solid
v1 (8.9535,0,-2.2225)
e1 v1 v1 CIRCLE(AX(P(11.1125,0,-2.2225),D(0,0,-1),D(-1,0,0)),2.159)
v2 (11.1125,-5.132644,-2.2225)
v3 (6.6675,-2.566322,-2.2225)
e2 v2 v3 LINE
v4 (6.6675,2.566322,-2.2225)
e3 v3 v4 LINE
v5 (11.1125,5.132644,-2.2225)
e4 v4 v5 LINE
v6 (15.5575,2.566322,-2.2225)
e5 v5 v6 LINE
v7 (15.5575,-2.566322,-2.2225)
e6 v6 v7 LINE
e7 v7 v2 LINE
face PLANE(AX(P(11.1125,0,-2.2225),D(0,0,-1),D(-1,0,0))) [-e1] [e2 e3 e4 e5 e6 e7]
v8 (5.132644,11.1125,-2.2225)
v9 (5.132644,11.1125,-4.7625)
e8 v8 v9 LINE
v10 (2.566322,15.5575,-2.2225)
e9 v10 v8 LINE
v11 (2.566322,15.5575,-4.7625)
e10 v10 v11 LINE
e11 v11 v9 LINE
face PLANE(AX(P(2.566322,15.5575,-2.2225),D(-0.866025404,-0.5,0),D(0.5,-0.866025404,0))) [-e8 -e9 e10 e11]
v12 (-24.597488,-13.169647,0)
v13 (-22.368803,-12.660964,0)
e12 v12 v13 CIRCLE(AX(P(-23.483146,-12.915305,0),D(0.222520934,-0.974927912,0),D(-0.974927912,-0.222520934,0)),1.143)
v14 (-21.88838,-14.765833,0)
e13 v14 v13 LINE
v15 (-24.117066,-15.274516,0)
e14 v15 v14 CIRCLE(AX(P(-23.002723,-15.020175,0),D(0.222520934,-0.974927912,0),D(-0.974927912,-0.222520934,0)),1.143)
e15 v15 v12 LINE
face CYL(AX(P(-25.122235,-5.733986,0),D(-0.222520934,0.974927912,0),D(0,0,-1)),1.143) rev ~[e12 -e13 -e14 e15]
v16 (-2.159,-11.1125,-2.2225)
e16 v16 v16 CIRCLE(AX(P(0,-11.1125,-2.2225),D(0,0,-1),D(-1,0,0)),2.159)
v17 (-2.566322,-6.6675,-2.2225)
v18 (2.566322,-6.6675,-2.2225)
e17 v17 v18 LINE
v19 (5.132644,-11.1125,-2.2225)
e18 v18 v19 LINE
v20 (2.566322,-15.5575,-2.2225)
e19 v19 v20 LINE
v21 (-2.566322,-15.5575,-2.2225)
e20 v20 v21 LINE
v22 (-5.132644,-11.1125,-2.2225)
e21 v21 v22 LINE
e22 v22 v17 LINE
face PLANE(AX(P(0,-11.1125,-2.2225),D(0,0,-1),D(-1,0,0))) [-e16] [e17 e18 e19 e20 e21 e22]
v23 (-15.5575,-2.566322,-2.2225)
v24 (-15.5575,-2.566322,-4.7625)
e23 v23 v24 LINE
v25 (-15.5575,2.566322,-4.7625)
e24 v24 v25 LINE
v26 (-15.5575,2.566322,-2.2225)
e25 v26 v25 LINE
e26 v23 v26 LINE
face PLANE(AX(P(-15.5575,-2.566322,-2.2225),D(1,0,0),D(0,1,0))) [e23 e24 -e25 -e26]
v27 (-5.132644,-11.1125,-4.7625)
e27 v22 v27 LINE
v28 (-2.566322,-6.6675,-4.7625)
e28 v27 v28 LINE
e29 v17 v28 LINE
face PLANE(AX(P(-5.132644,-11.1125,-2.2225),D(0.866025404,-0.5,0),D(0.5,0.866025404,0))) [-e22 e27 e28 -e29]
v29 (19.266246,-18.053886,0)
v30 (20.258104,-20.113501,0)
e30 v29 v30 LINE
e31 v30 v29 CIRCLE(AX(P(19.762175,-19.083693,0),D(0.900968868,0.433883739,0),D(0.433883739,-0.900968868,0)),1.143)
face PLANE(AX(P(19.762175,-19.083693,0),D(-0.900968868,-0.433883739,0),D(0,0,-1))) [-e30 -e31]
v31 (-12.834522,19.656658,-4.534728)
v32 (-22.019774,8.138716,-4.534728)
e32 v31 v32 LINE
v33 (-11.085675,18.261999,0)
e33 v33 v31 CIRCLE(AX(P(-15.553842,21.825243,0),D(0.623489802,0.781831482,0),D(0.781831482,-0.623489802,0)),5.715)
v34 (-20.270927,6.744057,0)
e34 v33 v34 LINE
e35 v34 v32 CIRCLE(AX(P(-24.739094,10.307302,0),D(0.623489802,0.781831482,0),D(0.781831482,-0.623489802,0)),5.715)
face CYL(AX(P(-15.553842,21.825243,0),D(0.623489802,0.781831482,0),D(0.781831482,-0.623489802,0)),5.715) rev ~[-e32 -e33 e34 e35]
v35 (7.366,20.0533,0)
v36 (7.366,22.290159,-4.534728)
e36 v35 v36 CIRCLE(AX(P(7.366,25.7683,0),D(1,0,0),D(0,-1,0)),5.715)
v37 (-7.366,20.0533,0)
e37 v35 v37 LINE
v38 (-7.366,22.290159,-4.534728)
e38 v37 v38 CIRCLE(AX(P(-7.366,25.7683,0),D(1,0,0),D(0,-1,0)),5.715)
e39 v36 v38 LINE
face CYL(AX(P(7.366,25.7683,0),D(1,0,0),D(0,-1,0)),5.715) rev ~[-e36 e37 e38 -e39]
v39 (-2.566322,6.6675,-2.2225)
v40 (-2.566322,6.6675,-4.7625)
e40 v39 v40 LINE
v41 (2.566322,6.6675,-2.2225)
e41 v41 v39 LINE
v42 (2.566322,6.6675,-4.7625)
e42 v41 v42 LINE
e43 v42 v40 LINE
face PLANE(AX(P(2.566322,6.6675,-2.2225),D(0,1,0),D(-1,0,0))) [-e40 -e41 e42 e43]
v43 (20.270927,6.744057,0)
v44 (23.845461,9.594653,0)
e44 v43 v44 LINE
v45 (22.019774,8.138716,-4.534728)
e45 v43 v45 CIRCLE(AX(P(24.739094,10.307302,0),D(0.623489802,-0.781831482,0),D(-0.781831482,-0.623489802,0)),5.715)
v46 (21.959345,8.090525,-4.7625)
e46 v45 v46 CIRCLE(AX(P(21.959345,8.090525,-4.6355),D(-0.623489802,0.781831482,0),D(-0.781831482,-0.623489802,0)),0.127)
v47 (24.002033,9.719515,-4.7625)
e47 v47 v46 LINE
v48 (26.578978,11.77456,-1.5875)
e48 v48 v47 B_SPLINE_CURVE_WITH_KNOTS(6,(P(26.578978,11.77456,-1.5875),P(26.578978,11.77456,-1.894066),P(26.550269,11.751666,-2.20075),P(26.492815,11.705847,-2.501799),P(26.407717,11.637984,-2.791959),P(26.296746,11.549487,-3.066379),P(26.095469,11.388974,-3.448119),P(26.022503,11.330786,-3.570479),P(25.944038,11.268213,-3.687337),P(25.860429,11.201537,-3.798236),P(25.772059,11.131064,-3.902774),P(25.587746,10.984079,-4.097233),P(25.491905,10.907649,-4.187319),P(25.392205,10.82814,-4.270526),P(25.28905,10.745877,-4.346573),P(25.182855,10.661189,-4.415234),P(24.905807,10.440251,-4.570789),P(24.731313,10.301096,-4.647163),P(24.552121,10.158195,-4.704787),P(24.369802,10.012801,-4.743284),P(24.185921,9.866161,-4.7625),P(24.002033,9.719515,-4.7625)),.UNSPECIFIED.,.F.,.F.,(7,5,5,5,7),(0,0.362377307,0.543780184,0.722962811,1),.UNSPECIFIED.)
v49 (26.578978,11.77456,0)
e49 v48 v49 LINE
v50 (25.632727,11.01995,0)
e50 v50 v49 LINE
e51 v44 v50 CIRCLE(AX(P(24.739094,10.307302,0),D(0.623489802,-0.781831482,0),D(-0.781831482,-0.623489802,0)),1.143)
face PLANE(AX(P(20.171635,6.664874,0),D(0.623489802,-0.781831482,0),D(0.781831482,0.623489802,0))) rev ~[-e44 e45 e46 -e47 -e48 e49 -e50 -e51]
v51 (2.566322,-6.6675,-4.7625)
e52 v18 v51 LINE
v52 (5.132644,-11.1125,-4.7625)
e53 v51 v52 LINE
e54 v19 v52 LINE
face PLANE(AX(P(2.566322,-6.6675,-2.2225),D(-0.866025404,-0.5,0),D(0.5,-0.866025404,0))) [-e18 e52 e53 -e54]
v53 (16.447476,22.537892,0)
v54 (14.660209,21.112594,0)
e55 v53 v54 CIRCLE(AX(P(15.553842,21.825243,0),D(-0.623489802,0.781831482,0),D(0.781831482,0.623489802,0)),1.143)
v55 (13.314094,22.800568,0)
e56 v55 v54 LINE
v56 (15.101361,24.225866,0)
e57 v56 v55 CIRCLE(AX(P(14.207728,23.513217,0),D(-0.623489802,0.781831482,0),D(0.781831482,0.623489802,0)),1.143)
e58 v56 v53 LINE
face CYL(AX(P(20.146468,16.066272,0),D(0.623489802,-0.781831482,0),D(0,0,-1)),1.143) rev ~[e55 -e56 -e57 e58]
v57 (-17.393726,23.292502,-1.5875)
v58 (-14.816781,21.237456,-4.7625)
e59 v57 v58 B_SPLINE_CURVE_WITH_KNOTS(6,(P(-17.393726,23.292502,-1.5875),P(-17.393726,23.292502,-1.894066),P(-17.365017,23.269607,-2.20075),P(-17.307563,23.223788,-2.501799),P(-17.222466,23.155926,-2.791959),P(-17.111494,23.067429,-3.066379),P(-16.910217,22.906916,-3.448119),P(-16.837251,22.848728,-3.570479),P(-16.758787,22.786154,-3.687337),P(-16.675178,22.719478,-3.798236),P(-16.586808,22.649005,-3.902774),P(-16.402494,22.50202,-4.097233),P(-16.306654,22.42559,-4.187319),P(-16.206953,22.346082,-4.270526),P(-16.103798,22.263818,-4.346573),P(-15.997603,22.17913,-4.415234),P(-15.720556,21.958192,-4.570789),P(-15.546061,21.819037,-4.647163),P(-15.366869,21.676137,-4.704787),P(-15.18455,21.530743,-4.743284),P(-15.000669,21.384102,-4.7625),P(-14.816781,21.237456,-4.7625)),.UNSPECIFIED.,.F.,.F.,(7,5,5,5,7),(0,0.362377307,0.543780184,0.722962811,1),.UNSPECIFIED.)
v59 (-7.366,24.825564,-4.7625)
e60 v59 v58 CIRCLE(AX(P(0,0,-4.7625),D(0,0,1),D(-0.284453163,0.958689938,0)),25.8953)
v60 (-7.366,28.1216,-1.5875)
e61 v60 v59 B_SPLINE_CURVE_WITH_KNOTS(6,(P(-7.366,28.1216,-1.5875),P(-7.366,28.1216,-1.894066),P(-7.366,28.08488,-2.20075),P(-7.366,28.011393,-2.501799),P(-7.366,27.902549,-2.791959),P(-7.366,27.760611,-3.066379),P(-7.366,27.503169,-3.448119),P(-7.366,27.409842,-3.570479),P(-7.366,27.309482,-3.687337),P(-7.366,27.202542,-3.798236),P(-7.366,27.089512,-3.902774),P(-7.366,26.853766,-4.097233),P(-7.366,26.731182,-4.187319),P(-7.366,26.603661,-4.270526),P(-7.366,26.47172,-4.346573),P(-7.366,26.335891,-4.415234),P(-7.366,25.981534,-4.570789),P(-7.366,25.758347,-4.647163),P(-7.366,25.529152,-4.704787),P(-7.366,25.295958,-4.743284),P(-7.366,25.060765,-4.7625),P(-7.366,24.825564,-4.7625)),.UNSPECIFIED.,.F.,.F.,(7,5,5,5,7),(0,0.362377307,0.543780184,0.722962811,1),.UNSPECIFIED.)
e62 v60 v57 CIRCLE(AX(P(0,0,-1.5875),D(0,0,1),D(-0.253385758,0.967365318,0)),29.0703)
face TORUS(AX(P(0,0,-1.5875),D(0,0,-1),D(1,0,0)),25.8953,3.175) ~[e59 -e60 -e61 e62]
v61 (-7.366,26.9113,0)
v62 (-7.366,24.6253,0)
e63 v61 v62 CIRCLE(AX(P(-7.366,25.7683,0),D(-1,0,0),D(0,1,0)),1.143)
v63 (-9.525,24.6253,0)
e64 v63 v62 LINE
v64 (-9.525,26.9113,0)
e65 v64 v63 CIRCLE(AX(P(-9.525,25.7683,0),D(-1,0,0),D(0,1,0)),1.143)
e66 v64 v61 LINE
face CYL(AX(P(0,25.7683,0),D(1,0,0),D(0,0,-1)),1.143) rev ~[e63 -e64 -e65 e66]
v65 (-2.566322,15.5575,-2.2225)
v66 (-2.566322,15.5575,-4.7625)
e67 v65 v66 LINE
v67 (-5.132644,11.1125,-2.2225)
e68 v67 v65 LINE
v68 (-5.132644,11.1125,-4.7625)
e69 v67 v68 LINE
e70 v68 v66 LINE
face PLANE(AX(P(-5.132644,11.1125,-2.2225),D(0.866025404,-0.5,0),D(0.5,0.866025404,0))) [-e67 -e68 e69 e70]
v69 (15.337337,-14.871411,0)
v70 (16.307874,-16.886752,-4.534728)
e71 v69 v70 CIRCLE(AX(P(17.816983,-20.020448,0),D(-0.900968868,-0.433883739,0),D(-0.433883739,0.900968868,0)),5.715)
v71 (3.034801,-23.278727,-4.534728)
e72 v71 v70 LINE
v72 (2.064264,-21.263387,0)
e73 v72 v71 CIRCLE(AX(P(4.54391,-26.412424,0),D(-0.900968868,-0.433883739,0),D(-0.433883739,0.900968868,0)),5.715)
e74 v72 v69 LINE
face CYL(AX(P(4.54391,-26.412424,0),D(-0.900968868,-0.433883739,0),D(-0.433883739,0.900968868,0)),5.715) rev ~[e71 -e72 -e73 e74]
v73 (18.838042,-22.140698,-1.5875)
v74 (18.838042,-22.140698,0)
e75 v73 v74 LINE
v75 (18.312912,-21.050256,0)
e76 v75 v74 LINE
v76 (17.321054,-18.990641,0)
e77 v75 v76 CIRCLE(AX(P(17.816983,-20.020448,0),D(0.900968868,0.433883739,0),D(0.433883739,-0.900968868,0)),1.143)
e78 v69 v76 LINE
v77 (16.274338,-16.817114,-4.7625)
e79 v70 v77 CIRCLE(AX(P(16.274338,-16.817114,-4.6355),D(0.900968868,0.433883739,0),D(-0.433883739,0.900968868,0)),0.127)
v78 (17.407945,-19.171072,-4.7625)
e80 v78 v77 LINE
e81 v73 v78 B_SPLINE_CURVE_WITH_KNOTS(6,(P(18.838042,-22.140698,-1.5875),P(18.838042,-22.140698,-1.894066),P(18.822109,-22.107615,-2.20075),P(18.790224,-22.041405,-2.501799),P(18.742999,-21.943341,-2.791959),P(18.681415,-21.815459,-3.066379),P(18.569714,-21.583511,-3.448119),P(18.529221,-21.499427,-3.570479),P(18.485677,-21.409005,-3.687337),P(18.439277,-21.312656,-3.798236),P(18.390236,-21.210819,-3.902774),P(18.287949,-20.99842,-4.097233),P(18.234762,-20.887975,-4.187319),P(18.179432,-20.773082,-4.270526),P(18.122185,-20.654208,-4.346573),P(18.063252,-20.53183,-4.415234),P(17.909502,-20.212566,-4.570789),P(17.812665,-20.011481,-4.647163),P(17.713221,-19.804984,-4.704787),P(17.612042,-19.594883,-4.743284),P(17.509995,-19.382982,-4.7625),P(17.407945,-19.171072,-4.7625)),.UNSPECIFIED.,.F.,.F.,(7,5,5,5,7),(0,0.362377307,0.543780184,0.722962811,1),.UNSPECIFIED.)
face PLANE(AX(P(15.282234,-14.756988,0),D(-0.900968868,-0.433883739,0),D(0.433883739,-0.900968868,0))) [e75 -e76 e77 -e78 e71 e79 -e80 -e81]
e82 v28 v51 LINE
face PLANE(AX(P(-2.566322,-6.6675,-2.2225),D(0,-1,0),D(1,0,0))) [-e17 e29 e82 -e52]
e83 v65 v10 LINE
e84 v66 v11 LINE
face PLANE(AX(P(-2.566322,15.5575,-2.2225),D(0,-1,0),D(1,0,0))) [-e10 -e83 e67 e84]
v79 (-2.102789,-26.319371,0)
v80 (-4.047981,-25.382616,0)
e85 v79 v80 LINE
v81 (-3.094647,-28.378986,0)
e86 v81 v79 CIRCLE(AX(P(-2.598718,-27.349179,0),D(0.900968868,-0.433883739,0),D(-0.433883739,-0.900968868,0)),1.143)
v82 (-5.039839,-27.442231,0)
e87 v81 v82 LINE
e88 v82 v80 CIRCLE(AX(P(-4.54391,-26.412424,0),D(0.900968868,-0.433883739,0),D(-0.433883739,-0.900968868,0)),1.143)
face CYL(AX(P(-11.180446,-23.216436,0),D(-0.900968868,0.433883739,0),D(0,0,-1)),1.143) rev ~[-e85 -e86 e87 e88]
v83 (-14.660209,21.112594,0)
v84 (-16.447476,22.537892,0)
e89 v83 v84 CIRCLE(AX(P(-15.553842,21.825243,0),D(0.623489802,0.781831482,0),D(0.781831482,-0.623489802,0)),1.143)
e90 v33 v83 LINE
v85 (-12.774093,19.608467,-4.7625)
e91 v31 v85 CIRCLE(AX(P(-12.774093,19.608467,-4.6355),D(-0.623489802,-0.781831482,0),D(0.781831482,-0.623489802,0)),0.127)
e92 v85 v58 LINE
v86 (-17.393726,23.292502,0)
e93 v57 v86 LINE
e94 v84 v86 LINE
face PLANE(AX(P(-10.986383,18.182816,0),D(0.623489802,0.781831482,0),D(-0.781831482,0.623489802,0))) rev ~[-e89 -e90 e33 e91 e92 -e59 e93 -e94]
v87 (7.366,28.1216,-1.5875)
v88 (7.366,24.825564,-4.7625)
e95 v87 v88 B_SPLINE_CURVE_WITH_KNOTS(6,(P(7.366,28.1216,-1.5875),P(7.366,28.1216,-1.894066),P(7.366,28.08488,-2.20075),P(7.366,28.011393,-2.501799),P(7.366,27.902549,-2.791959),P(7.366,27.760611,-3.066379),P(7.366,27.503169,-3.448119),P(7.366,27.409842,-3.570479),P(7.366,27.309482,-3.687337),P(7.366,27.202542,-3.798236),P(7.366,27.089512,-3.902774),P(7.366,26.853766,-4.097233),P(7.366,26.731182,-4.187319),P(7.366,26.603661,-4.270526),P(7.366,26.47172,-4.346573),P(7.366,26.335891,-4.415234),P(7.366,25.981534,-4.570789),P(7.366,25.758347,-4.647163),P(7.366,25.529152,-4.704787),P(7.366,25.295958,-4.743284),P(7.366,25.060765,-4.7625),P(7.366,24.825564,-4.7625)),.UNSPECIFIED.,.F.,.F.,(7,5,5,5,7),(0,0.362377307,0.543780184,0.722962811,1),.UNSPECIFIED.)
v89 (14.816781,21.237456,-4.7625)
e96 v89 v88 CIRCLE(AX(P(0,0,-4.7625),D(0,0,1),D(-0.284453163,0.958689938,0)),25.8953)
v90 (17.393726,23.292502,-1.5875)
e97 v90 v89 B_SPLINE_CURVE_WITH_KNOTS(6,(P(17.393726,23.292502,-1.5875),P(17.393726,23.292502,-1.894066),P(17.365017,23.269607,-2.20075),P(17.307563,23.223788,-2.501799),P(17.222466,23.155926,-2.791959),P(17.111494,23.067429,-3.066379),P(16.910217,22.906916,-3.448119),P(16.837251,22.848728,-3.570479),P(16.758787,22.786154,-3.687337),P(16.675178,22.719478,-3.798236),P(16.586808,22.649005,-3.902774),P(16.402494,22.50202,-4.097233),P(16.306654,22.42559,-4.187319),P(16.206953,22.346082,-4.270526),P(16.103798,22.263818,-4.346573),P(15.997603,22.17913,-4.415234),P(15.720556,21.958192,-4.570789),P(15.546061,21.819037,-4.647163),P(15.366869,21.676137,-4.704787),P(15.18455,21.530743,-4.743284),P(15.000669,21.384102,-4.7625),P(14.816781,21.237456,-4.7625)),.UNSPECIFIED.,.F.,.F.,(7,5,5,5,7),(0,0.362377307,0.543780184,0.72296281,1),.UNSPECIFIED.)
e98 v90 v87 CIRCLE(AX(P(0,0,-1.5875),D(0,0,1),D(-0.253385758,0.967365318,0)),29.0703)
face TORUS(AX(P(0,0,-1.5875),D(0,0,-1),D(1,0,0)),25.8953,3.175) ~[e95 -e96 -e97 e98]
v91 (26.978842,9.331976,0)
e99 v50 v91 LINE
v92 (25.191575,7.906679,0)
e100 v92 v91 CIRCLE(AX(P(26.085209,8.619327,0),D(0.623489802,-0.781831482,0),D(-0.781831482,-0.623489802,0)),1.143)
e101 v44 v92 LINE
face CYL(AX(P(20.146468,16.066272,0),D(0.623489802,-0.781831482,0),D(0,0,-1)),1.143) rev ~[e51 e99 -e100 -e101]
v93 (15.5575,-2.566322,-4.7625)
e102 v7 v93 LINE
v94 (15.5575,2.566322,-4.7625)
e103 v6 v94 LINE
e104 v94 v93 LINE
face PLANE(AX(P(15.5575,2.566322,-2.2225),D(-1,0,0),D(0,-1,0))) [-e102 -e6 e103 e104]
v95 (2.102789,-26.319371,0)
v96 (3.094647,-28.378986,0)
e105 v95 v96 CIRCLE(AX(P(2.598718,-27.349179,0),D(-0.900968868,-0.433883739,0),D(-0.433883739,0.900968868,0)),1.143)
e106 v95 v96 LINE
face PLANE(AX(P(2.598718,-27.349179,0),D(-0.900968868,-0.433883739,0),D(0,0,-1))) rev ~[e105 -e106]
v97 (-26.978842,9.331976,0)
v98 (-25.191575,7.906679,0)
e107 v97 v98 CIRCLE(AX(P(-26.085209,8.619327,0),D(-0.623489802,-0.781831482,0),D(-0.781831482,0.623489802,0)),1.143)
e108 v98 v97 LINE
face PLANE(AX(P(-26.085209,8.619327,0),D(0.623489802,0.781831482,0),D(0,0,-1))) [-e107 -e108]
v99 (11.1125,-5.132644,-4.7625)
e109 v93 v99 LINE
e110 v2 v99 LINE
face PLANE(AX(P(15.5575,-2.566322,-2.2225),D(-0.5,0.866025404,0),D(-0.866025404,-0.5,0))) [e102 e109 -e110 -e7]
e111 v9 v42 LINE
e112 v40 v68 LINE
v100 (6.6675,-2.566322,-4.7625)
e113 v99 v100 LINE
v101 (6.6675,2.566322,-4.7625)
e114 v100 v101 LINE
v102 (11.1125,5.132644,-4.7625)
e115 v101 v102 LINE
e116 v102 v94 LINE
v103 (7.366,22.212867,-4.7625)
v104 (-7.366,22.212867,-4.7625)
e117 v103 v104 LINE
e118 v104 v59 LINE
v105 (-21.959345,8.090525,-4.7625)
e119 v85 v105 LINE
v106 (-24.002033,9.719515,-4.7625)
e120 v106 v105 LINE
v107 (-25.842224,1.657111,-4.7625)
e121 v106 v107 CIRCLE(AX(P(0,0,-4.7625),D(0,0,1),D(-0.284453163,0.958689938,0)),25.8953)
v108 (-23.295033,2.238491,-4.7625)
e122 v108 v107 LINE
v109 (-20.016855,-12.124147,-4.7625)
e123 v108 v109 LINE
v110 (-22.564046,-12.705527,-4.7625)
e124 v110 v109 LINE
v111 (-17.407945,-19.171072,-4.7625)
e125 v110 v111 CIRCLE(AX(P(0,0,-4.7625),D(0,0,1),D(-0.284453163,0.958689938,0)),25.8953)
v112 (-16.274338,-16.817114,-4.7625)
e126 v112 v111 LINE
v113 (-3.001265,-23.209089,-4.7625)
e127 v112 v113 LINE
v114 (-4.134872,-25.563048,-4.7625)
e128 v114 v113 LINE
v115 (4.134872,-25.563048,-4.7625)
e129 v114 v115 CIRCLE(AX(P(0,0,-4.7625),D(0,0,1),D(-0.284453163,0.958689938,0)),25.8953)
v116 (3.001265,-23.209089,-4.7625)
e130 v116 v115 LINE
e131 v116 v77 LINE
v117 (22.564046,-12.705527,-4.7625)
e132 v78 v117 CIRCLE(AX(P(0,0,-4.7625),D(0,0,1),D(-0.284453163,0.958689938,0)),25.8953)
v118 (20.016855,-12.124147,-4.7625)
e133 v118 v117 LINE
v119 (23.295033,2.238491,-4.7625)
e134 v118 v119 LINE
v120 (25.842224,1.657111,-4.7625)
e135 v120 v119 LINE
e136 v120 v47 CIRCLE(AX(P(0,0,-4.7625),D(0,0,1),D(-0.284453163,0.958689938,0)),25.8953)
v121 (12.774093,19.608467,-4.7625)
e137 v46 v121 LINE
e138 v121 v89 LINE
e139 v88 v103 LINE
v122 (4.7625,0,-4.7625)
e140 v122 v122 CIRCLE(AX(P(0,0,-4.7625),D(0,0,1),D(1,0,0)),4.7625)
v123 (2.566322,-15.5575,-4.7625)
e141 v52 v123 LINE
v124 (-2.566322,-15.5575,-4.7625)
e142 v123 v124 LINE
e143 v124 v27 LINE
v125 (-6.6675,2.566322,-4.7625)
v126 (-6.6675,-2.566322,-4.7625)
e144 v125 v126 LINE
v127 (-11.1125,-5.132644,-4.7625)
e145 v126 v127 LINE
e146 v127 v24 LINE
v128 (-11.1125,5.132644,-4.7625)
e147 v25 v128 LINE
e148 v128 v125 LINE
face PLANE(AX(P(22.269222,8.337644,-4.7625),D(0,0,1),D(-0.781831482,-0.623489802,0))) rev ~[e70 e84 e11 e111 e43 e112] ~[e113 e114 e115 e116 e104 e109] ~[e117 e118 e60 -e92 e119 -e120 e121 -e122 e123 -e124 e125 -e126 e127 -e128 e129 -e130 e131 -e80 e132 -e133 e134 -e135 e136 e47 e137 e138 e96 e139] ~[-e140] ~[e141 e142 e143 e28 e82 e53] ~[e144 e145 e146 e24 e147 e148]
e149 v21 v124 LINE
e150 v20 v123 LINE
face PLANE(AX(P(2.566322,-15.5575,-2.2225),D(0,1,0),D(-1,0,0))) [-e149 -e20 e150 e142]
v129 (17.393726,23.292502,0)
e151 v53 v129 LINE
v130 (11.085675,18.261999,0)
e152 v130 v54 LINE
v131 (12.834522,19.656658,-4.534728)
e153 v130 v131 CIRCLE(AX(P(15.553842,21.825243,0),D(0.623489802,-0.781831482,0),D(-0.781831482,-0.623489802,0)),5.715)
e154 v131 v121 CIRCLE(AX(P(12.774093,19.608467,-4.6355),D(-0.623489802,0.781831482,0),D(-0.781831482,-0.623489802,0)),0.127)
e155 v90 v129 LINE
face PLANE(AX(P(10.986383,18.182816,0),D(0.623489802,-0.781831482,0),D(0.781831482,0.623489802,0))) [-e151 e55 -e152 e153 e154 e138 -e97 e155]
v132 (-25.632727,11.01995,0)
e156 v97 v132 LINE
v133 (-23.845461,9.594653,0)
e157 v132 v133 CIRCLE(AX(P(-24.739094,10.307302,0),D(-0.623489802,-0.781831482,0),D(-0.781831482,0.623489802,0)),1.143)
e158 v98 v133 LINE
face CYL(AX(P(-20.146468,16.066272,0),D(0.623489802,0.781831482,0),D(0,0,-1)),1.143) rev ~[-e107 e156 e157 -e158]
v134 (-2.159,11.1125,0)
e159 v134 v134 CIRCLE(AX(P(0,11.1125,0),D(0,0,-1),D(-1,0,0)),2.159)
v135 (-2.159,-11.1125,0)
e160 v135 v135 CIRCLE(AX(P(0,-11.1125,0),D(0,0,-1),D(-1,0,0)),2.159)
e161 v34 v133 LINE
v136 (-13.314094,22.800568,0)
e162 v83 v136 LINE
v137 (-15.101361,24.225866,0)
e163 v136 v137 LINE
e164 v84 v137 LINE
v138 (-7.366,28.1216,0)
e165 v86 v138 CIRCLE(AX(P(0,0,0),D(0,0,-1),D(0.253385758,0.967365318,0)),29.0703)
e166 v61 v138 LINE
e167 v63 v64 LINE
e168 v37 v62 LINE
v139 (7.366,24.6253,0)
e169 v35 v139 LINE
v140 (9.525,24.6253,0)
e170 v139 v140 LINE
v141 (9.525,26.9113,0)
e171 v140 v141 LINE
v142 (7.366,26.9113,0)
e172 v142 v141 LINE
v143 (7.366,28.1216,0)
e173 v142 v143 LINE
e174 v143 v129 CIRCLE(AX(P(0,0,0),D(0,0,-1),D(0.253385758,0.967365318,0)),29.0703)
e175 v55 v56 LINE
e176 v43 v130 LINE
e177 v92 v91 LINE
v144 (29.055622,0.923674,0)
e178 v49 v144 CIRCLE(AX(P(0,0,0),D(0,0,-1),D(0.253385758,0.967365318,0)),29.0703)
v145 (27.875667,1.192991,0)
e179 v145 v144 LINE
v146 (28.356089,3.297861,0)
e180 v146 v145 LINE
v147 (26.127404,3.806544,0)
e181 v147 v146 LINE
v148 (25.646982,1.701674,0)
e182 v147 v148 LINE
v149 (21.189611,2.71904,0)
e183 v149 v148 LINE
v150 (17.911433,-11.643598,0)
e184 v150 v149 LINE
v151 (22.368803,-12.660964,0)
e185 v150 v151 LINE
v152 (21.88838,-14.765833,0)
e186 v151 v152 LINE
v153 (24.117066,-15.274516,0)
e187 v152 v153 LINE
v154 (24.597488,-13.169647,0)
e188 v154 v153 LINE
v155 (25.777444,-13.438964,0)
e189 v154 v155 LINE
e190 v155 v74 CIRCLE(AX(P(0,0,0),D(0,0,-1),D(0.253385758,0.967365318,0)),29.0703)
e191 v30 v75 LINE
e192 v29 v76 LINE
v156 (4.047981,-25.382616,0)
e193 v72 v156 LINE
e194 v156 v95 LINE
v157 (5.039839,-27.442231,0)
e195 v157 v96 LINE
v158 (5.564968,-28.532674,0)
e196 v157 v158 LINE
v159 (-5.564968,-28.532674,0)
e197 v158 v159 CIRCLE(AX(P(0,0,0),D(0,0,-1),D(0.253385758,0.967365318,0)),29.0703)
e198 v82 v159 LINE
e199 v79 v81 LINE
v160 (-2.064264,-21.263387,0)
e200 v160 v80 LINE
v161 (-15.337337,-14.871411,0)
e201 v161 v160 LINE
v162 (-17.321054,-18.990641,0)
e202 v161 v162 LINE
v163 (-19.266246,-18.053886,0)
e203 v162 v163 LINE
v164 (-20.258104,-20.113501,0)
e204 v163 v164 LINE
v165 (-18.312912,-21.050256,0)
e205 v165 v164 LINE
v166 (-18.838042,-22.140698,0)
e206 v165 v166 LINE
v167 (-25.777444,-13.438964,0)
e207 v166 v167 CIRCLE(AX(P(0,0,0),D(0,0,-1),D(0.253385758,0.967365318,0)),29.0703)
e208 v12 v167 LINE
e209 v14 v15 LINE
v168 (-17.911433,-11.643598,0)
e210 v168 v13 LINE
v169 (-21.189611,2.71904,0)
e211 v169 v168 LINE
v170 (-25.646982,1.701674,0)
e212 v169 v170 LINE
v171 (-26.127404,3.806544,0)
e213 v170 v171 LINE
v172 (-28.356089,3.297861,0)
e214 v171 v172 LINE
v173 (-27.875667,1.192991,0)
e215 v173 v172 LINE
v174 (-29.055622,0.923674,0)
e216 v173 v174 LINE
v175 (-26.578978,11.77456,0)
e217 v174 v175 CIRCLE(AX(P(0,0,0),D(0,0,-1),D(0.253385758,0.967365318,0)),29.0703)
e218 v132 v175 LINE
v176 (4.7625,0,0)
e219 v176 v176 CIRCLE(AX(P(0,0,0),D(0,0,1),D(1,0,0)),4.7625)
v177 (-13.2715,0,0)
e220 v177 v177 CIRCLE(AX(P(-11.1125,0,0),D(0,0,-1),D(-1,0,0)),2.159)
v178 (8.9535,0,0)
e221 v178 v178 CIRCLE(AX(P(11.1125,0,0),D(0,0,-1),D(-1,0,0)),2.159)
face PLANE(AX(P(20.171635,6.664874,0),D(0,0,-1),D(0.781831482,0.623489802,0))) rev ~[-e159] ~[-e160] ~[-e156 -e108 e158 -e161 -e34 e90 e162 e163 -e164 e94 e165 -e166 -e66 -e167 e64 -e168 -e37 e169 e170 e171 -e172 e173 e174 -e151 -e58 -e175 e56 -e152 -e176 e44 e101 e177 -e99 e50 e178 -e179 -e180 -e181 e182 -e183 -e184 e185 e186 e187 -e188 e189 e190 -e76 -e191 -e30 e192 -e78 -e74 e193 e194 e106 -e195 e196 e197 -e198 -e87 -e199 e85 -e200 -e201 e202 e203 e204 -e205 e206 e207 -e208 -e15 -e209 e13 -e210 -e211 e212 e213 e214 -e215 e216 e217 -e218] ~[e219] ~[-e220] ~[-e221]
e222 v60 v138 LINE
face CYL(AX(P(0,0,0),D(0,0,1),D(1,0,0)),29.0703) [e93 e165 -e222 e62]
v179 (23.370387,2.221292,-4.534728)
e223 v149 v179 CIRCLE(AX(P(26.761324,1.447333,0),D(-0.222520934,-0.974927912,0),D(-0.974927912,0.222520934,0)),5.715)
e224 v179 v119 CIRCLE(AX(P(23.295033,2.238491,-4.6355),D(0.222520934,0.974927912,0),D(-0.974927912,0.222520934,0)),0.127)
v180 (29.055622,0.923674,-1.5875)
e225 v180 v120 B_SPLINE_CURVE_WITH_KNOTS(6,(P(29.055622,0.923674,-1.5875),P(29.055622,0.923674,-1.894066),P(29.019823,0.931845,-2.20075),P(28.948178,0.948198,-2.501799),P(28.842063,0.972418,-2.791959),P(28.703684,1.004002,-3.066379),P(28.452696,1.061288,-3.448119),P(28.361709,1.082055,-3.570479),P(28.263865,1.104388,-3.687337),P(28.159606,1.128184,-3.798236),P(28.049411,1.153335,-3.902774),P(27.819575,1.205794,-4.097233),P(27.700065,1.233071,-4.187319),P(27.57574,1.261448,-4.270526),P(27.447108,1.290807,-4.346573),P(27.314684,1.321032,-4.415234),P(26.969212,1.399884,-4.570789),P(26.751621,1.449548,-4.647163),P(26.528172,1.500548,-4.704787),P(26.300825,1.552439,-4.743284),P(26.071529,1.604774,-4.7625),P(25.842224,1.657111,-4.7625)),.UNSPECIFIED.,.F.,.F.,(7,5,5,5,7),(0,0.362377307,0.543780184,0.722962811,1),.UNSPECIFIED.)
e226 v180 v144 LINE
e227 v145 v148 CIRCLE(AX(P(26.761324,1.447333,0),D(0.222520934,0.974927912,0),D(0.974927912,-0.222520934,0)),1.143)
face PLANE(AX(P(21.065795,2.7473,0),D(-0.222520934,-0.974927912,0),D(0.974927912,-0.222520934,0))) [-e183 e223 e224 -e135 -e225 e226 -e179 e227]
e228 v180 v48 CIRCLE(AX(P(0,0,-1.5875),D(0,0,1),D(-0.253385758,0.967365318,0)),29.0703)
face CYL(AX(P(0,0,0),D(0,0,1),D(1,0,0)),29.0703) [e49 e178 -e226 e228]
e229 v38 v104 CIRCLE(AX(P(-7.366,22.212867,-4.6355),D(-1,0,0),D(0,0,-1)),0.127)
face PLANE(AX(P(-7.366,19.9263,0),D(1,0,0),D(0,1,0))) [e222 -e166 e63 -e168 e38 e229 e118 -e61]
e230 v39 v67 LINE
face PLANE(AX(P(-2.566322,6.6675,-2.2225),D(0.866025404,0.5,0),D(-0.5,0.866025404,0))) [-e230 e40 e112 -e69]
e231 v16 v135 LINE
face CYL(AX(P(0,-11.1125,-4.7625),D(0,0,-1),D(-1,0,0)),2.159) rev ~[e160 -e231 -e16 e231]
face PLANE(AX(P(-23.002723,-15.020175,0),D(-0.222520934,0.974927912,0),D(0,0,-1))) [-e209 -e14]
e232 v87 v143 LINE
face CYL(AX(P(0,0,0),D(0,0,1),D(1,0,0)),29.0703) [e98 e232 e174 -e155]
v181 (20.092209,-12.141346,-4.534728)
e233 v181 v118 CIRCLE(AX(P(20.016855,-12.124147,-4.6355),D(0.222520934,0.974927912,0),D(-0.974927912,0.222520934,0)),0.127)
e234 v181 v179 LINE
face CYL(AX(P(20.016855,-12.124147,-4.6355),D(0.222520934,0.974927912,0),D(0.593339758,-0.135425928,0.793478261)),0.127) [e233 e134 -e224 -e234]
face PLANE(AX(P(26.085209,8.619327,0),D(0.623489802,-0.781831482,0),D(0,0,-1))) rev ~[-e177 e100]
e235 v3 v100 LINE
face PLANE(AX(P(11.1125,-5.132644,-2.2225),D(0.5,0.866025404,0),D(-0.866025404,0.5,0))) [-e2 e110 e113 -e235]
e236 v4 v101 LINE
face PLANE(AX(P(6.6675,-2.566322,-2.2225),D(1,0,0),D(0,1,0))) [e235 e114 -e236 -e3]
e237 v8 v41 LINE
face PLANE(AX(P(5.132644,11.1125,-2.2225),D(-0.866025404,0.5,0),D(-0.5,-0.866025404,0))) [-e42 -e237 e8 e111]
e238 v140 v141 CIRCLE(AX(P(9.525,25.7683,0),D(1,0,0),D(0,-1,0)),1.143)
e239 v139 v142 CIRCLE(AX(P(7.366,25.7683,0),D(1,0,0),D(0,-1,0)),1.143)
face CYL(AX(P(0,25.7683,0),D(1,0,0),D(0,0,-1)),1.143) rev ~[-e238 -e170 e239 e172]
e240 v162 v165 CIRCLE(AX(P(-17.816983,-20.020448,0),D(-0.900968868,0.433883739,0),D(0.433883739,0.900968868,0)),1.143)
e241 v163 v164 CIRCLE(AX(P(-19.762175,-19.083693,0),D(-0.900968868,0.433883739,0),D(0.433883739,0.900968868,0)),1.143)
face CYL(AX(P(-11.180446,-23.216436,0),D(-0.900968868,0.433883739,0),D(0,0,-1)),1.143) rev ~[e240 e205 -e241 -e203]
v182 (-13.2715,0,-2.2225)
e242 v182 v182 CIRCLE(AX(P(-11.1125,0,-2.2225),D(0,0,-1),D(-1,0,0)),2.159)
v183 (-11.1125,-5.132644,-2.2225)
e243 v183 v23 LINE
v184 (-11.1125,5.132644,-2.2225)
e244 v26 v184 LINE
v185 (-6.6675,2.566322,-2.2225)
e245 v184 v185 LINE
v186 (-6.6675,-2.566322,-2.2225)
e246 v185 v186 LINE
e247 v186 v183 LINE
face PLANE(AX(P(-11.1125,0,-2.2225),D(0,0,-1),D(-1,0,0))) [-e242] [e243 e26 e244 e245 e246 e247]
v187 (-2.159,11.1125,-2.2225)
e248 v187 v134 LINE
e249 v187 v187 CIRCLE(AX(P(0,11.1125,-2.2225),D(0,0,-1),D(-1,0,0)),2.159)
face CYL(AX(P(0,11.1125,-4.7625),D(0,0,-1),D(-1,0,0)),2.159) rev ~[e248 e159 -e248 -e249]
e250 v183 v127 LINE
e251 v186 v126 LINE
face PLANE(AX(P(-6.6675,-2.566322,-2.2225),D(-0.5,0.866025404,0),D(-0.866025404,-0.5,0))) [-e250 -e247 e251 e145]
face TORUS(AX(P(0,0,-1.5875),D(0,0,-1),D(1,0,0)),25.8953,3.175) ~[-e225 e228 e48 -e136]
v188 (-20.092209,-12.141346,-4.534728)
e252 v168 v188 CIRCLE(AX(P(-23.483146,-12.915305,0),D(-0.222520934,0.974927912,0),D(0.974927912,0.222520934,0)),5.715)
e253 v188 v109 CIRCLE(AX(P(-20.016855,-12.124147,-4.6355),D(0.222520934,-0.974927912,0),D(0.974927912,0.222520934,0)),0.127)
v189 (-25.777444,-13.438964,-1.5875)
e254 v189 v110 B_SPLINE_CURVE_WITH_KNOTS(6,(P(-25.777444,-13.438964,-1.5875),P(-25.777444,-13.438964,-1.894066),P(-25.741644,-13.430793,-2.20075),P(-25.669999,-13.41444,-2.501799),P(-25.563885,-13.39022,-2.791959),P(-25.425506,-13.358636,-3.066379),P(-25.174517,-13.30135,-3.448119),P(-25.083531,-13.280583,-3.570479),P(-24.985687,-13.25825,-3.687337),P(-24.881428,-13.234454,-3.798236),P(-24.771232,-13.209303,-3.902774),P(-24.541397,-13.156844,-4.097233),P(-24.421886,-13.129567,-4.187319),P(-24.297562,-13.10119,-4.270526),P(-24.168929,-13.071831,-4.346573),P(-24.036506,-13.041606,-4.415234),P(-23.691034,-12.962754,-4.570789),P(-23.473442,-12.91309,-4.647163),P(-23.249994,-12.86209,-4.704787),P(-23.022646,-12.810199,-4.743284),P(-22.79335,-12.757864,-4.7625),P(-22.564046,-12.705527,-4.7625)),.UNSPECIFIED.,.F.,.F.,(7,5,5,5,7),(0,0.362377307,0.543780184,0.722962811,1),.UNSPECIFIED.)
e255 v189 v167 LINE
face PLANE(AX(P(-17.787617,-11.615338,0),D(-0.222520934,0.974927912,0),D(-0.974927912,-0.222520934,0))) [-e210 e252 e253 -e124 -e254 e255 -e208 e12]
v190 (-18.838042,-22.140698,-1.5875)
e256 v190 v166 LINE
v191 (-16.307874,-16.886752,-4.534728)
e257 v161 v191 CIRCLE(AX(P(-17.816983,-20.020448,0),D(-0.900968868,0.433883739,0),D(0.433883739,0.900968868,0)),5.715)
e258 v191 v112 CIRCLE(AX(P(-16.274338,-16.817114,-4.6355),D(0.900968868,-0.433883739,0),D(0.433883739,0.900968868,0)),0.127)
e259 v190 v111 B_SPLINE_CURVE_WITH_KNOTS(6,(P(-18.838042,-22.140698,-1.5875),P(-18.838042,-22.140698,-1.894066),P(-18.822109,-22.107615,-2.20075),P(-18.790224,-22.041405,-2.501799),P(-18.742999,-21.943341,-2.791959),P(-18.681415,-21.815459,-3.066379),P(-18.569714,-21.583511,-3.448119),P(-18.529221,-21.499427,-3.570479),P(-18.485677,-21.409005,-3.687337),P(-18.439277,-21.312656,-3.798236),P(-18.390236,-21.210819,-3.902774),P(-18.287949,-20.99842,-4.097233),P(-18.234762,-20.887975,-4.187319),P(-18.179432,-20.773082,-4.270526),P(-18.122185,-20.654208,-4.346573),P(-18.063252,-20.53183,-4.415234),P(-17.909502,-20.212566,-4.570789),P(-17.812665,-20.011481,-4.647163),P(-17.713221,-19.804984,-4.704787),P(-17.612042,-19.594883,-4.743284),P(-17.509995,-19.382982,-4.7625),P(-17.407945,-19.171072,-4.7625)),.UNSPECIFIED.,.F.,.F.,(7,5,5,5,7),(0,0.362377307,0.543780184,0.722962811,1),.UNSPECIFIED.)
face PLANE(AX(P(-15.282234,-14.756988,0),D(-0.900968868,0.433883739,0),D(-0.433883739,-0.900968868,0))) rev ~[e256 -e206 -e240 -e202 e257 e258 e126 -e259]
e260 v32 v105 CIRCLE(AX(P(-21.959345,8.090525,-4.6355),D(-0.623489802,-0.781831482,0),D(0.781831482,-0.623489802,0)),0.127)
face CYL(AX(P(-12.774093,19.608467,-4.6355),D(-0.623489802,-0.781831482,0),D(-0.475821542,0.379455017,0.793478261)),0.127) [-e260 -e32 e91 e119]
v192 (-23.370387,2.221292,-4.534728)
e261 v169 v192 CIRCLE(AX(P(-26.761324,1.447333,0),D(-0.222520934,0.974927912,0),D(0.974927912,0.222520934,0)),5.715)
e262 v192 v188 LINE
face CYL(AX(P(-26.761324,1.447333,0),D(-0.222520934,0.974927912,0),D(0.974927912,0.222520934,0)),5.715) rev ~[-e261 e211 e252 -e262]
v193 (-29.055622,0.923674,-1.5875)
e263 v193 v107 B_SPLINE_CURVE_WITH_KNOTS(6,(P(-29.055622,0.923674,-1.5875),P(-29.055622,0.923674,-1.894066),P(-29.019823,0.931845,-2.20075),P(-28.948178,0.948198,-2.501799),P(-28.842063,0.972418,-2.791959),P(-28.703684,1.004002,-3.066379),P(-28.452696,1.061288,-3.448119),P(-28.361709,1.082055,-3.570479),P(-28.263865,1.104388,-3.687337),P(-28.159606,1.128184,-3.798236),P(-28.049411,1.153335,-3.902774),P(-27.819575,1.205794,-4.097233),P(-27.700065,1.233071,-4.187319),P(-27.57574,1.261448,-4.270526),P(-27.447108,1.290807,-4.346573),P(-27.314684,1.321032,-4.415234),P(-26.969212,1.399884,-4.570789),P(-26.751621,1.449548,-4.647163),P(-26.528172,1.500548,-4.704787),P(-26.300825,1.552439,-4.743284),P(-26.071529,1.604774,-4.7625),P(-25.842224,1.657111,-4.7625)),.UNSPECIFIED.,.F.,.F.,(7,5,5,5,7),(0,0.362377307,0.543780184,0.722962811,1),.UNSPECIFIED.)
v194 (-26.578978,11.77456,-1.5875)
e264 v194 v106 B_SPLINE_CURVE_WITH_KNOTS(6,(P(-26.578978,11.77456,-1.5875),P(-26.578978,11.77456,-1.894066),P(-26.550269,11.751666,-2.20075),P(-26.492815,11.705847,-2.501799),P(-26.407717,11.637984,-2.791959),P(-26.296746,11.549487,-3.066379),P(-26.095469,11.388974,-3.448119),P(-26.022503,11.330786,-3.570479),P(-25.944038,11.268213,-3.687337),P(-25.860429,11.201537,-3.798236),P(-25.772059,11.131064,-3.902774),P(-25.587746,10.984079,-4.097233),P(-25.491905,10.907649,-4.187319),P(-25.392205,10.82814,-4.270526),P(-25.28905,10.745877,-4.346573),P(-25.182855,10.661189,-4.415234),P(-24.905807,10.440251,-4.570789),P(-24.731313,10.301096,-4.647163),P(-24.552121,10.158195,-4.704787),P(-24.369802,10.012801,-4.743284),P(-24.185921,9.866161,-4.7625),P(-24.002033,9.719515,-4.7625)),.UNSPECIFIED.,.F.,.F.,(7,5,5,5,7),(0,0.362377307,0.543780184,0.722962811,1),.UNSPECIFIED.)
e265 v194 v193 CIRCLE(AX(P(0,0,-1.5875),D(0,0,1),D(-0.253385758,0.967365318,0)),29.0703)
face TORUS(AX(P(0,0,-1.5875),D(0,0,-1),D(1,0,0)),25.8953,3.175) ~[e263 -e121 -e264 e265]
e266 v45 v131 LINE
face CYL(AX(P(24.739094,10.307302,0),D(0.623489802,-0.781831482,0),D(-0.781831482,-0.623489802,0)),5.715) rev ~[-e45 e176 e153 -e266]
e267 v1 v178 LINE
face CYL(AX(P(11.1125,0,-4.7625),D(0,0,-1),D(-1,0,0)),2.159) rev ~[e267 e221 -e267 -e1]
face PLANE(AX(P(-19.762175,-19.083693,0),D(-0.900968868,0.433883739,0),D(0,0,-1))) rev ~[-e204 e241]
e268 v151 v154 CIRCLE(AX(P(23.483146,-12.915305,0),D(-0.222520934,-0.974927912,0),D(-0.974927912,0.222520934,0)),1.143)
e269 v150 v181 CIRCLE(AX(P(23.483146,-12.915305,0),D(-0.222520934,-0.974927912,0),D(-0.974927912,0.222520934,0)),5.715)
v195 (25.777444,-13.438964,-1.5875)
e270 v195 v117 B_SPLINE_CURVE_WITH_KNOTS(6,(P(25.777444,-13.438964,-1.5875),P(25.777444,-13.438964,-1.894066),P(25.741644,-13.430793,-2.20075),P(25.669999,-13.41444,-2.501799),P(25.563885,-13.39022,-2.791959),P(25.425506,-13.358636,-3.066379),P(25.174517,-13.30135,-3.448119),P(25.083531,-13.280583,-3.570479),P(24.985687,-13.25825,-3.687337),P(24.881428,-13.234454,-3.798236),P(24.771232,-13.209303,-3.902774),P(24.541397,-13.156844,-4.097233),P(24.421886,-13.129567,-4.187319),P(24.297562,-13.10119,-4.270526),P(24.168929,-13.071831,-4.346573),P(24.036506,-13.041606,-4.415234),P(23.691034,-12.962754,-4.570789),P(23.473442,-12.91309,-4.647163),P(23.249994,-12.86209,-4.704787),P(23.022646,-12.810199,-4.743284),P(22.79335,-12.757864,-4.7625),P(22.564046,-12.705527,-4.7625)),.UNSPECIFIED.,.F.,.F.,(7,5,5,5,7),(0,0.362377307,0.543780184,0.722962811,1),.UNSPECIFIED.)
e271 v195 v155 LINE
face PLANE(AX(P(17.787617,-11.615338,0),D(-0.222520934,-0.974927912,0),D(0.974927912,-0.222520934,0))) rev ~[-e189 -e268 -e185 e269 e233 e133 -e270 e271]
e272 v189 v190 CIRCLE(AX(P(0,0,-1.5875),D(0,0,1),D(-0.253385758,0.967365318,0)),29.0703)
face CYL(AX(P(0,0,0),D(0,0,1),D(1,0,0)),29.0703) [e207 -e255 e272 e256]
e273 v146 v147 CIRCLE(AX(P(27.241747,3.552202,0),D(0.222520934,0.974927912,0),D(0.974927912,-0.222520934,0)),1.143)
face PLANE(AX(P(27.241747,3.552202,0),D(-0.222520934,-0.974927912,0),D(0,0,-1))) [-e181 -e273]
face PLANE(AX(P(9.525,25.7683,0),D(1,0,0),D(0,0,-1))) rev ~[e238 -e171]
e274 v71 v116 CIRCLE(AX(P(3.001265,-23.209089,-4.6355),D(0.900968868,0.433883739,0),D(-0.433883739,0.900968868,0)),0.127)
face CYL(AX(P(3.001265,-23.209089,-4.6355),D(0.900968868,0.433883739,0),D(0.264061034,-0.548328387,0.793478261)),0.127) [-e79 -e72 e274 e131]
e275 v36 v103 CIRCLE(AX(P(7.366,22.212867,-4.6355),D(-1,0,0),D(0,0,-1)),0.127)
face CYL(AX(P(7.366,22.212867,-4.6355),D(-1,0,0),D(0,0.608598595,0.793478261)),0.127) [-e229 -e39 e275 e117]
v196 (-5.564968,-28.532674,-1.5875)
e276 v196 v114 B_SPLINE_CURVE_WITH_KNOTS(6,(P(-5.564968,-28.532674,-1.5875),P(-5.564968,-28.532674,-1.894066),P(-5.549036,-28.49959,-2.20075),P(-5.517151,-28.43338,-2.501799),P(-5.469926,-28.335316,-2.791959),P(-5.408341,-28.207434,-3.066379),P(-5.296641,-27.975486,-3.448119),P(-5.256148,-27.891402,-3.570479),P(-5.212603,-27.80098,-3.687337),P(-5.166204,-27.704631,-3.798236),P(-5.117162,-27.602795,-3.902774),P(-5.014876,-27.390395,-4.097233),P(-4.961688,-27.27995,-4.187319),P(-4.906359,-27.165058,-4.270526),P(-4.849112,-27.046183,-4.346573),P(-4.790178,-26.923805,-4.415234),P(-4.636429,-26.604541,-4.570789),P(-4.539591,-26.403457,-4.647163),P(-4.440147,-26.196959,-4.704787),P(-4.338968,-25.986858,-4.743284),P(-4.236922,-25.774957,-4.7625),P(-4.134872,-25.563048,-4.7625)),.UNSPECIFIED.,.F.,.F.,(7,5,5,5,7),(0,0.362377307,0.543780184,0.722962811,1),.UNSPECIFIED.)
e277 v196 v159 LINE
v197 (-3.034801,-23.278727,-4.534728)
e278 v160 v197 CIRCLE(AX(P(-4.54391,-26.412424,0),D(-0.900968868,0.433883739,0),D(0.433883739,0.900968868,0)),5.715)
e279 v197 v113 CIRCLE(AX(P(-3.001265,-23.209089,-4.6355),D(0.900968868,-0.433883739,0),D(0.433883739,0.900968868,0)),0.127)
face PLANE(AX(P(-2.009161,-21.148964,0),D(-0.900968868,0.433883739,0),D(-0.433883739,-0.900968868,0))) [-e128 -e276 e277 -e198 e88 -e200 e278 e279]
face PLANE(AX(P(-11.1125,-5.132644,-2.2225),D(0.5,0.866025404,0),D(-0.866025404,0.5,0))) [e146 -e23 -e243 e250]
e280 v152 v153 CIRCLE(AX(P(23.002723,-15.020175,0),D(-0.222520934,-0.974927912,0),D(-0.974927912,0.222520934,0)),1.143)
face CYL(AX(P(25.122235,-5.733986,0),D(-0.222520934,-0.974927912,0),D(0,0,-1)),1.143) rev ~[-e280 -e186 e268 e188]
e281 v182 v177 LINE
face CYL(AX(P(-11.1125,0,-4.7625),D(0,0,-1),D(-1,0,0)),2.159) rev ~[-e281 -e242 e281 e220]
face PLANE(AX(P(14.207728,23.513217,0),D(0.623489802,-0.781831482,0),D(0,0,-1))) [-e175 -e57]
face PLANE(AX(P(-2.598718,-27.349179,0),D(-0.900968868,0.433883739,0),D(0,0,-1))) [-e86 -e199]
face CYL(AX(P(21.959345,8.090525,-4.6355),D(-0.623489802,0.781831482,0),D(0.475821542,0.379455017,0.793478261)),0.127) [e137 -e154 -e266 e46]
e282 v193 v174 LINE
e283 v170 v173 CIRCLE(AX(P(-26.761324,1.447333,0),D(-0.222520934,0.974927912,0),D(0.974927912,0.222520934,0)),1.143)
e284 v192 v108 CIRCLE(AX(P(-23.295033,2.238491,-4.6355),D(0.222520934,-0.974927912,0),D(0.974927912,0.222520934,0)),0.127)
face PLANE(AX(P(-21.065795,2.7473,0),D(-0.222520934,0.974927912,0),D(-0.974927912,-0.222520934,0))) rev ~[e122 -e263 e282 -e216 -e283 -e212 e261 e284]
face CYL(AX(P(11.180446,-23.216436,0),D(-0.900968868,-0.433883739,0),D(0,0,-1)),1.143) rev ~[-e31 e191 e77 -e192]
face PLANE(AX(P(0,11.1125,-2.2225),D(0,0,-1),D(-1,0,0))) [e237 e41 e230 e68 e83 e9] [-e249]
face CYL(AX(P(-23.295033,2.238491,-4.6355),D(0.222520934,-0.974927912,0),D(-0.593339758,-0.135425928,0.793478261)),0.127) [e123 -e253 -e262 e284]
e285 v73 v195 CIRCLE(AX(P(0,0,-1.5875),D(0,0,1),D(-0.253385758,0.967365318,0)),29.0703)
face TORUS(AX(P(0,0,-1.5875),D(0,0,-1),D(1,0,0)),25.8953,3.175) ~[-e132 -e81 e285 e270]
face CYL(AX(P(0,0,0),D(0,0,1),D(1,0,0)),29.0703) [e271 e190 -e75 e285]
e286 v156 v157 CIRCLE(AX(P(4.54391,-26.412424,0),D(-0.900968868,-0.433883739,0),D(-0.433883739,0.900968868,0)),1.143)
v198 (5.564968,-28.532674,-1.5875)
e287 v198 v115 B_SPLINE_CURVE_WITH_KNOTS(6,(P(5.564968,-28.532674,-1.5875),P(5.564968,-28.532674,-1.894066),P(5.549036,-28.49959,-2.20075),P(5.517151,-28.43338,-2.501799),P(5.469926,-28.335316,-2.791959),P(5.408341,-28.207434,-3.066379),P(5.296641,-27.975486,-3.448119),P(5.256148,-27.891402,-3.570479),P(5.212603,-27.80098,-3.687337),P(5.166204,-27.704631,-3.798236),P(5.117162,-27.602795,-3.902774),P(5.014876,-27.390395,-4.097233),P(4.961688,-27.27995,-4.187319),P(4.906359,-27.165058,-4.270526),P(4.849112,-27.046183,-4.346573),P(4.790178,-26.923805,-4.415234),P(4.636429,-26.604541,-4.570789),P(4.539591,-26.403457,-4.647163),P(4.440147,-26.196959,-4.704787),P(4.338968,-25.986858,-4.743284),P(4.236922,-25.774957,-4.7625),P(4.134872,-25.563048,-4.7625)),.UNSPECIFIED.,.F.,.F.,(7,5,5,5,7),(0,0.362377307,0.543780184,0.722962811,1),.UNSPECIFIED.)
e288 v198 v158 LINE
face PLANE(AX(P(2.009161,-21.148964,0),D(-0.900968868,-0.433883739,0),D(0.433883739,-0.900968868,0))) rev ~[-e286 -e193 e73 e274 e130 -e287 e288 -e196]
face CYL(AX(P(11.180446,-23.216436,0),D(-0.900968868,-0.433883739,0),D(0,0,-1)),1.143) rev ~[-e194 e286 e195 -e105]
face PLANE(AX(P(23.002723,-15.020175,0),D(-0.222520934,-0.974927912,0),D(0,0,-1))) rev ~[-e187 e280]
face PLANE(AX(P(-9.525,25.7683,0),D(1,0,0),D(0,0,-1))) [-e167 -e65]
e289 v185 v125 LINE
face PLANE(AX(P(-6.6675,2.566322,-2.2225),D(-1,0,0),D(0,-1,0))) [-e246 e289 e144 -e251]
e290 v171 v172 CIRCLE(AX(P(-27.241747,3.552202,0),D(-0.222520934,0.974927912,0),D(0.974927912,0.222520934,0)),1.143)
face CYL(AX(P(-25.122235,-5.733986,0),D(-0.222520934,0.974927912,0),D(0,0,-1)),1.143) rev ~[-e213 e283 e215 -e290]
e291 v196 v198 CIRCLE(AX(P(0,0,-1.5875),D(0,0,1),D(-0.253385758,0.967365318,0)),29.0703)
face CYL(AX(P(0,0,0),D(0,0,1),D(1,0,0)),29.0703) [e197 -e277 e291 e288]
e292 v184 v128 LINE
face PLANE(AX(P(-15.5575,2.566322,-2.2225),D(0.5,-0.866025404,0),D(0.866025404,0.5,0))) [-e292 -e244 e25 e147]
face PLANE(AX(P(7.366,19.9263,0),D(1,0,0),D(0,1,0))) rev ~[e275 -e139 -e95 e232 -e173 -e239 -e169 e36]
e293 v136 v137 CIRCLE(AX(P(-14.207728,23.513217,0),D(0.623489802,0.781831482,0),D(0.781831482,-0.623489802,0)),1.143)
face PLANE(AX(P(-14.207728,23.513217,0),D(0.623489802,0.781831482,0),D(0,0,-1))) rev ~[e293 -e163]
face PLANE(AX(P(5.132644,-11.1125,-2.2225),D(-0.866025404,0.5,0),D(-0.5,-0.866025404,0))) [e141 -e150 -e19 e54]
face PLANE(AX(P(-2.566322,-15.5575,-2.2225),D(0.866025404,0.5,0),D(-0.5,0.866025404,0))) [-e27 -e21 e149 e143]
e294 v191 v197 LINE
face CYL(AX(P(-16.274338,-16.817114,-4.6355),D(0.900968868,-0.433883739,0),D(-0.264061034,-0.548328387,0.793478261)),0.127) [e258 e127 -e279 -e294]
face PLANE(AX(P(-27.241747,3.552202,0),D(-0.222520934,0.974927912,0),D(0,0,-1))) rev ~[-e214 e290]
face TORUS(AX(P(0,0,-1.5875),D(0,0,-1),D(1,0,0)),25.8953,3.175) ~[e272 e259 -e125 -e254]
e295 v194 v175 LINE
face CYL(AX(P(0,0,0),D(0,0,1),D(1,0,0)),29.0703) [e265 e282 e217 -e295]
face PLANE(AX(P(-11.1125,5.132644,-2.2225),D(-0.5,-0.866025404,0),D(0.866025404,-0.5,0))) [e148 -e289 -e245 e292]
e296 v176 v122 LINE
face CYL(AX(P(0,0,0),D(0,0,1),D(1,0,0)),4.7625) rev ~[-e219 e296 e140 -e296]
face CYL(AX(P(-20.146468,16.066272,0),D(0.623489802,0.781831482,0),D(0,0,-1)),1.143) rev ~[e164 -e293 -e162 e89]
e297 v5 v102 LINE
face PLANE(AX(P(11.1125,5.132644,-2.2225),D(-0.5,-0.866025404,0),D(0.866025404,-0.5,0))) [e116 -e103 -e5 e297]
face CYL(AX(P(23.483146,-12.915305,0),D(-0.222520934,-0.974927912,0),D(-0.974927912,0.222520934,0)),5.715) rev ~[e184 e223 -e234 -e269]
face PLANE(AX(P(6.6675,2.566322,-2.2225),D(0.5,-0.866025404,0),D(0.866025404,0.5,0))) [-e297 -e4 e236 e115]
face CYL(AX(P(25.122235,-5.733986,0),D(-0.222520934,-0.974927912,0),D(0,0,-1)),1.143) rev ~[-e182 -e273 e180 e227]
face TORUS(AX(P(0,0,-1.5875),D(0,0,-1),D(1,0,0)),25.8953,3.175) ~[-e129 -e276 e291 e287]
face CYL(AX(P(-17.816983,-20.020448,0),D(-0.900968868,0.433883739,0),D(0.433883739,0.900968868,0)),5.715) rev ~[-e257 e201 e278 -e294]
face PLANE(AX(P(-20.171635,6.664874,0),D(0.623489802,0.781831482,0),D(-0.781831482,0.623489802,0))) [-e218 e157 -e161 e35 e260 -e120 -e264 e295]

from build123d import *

# Parameters (mm, degrees)
SKETCH1_R                = 29.0703
BOSS_EXTRUDE2_DEPTH      = 4.7625
FILLET1_R                = 3.175
SKETCH2_W                = 14.732
SKETCH2_H                = 10.414
CUT_EXTRUDE2_DEPTH       = 12.7
CIRPATTERN1_COUNT        = 7
SKETCH4_R                = 1.143
CUT_EXTRUDE4_DEPTH       = 9.525
CIRPATTERN2_COUNT        = 7
SKETCH6_R                = 2.159
CUT_EXTRUDE7_DEPTH       = 42.376236281
BOSS_EXTRUDE4_REACH      = 48.843
FILLET2_R                = 0.127
CIRPATTERN5_COUNT        = 7
FILLET2_OF_CIRPATTERN5_R = 0.127
CUT_EXTRUDE9_REACH       = 43.376
SKETCH5_R                = 4.7625
CUT_EXTRUDE8_DEPTH       = 42.376236281
CUT_EXTRUDE8_DEPTH_BACK  = 2.54


with BuildPart() as part:
    # Sketch1 → Boss-Extrude2 (new body)
    with BuildSketch(Plane.XY):
        Circle(SKETCH1_R)
    extrude(amount=-BOSS_EXTRUDE2_DEPTH)

    # Fillet1
    fillet1_edges = [part.edges().sort_by_distance(p)[0] for p in [
        (-29.0703, 0, -4.7625),
    ]]
    fillet(fillet1_edges, radius=FILLET1_R)

    # Sketch2 → Cut-Extrude2 (cut)
    with BuildSketch(Plane.XY):
        with Locations((0, 25.1333)):
            Rectangle(SKETCH2_W, SKETCH2_H)
    cut_extrude2 = extrude(amount=-CUT_EXTRUDE2_DEPTH, mode=Mode.SUBTRACT)

    # CirPattern1: Cut-Extrude2 ×7 about axis
    cirpattern1_axis = Axis((0, 0, 0), (0, 0, 1))
    for i in range(1, CIRPATTERN1_COUNT):
        add(cut_extrude2.rotate(cirpattern1_axis, i * 360 / CIRPATTERN1_COUNT), mode=Mode.SUBTRACT)

    # Sketch4 → Cut-Extrude4 (cut, symmetric)
    with BuildSketch(Plane(origin=(0, 0, 0), x_dir=(0, 0, -1), z_dir=(1, 0, 0))):
        with Locations((0, 25.7683)):
            Circle(SKETCH4_R)
    cut_extrude4 = extrude(amount=CUT_EXTRUDE4_DEPTH, both=True, mode=Mode.SUBTRACT)

    # CirPattern2: Cut-Extrude4 ×7 about axis
    cirpattern2_axis = Axis((0, 0, 0), (0, 0, 1))
    for i in range(1, CIRPATTERN2_COUNT):
        add(cut_extrude4.rotate(cirpattern2_axis, i * 360 / CIRPATTERN2_COUNT), mode=Mode.SUBTRACT)

    # Sketch6 → Cut-Extrude7 (cut, through all)
    with BuildSketch(Plane(origin=(0, 0, -4.7625), x_dir=(-1, 0, 0), z_dir=(0, 0, -1))):
        with Locations((11.1125, 0)):
            Circle(SKETCH6_R)
        with Locations((0, -11.1125)):
            Circle(SKETCH6_R)
        with Locations((-11.1125, 0)):
            Circle(SKETCH6_R)
        with Locations((0, 11.1125)):
            Circle(SKETCH6_R)
    extrude(amount=-CUT_EXTRUDE7_DEPTH, mode=Mode.SUBTRACT)

    # Sketch10 → Boss-Extrude4 (add, up to next)
    with BuildSketch(Plane.ZY.offset(-7.366), mode=Mode.PRIVATE) as boss_extrude4_sk1:
        with BuildLine():
            Line((-4.7625, 19.9263), (0, 19.9263))
            Line((0, 19.9263), (0, 20.0533))
            ThreePointArc((0, 20.0533), (-2.7025038, 20.73265722), (-4.7625, 22.609214887))
            Line((-4.7625, 22.609214887), (-4.7625, 19.9263))
        make_face()
    boss_extrude4_tool1 = extrude(boss_extrude4_sk1.sketch, amount=BOSS_EXTRUDE4_REACH, mode=Mode.PRIVATE) - part.part
    boss_extrude4 = boss_extrude4_tool1.solids().sort_by_distance((7.366, 20.664807, -3.452063))[0]
    add(boss_extrude4)

    # Fillet2
    fillet2_edges = [part.edges().sort_by_distance(p)[0] for p in [
        (0, 22.609214887, -4.7625),
    ]]
    fillet(fillet2_edges, radius=FILLET2_R)

    # CirPattern5: Boss-Extrude4 ×7 about axis
    cirpattern5_axis = Axis((0, 0, 0), (0, 0, 1))
    for i in range(1, CIRPATTERN5_COUNT):
        add(boss_extrude4.rotate(cirpattern5_axis, i * 360 / CIRPATTERN5_COUNT))

    # Fillet2 of CirPattern5
    fillet2_of_cirpattern5_edges = [part.edges().sort_by_distance(p)[0] for p in [
        (-17.676595993, 14.09661491, -4.7625),
        (-22.042354666, -5.031023613, -4.7625),
        (-9.809770694, -20.370198741, -4.7625),
        (9.809770694, -20.370198741, -4.7625),
        (22.042354666, -5.031023613, -4.7625),
        (17.676595993, 14.09661491, -4.7625),
    ]]
    fillet(fillet2_of_cirpattern5_edges, radius=FILLET2_OF_CIRPATTERN5_R)

    # Sketch5 → Cut-Extrude9 (cut, up to next)
    with BuildSketch(Plane.XY, mode=Mode.PRIVATE) as cut_extrude9_sk1:
        Circle(SKETCH5_R)
    cut_extrude9_tool1 = extrude(cut_extrude9_sk1.sketch, amount=-CUT_EXTRUDE9_REACH, mode=Mode.PRIVATE) & part.part
    add(cut_extrude9_tool1.solids().sort_by_distance((0, 0, 0))[0], mode=Mode.SUBTRACT)

    # Sketch7 → Cut-Extrude8 (cut, two sides: drawn at the far end of the back side and taken through both)
    with BuildSketch(Plane(origin=(0, 0, -4.7625), x_dir=(-1, 0, 0), z_dir=(0, 0, -1)).offset(-CUT_EXTRUDE8_DEPTH_BACK)):
        Polygon((15.5575, -2.566321947), (15.5575, 2.566321947), (11.1125, 5.132643893), (6.6675, 2.566321947), (6.6675, -2.566321947), (11.1125, -5.132643893), align=None)
        Polygon((2.566321947, 15.5575), (-2.566321947, 15.5575), (-5.132643893, 11.1125), (-2.566321947, 6.6675), (2.566321947, 6.6675), (5.132643893, 11.1125), align=None)
        Polygon((-2.566321947, -15.5575), (2.566321947, -15.5575), (5.132643893, -11.1125), (2.566321947, -6.6675), (-2.566321947, -6.6675), (-5.132643893, -11.1125), align=None)
        Polygon((-15.5575, 2.566321947), (-15.5575, -2.566321947), (-11.1125, -5.132643893), (-6.6675, -2.566321947), (-6.6675, 2.566321947), (-11.1125, 5.132643893), align=None)
    extrude(amount=CUT_EXTRUDE8_DEPTH + CUT_EXTRUDE8_DEPTH_BACK, mode=Mode.SUBTRACT)


solid = part.part
